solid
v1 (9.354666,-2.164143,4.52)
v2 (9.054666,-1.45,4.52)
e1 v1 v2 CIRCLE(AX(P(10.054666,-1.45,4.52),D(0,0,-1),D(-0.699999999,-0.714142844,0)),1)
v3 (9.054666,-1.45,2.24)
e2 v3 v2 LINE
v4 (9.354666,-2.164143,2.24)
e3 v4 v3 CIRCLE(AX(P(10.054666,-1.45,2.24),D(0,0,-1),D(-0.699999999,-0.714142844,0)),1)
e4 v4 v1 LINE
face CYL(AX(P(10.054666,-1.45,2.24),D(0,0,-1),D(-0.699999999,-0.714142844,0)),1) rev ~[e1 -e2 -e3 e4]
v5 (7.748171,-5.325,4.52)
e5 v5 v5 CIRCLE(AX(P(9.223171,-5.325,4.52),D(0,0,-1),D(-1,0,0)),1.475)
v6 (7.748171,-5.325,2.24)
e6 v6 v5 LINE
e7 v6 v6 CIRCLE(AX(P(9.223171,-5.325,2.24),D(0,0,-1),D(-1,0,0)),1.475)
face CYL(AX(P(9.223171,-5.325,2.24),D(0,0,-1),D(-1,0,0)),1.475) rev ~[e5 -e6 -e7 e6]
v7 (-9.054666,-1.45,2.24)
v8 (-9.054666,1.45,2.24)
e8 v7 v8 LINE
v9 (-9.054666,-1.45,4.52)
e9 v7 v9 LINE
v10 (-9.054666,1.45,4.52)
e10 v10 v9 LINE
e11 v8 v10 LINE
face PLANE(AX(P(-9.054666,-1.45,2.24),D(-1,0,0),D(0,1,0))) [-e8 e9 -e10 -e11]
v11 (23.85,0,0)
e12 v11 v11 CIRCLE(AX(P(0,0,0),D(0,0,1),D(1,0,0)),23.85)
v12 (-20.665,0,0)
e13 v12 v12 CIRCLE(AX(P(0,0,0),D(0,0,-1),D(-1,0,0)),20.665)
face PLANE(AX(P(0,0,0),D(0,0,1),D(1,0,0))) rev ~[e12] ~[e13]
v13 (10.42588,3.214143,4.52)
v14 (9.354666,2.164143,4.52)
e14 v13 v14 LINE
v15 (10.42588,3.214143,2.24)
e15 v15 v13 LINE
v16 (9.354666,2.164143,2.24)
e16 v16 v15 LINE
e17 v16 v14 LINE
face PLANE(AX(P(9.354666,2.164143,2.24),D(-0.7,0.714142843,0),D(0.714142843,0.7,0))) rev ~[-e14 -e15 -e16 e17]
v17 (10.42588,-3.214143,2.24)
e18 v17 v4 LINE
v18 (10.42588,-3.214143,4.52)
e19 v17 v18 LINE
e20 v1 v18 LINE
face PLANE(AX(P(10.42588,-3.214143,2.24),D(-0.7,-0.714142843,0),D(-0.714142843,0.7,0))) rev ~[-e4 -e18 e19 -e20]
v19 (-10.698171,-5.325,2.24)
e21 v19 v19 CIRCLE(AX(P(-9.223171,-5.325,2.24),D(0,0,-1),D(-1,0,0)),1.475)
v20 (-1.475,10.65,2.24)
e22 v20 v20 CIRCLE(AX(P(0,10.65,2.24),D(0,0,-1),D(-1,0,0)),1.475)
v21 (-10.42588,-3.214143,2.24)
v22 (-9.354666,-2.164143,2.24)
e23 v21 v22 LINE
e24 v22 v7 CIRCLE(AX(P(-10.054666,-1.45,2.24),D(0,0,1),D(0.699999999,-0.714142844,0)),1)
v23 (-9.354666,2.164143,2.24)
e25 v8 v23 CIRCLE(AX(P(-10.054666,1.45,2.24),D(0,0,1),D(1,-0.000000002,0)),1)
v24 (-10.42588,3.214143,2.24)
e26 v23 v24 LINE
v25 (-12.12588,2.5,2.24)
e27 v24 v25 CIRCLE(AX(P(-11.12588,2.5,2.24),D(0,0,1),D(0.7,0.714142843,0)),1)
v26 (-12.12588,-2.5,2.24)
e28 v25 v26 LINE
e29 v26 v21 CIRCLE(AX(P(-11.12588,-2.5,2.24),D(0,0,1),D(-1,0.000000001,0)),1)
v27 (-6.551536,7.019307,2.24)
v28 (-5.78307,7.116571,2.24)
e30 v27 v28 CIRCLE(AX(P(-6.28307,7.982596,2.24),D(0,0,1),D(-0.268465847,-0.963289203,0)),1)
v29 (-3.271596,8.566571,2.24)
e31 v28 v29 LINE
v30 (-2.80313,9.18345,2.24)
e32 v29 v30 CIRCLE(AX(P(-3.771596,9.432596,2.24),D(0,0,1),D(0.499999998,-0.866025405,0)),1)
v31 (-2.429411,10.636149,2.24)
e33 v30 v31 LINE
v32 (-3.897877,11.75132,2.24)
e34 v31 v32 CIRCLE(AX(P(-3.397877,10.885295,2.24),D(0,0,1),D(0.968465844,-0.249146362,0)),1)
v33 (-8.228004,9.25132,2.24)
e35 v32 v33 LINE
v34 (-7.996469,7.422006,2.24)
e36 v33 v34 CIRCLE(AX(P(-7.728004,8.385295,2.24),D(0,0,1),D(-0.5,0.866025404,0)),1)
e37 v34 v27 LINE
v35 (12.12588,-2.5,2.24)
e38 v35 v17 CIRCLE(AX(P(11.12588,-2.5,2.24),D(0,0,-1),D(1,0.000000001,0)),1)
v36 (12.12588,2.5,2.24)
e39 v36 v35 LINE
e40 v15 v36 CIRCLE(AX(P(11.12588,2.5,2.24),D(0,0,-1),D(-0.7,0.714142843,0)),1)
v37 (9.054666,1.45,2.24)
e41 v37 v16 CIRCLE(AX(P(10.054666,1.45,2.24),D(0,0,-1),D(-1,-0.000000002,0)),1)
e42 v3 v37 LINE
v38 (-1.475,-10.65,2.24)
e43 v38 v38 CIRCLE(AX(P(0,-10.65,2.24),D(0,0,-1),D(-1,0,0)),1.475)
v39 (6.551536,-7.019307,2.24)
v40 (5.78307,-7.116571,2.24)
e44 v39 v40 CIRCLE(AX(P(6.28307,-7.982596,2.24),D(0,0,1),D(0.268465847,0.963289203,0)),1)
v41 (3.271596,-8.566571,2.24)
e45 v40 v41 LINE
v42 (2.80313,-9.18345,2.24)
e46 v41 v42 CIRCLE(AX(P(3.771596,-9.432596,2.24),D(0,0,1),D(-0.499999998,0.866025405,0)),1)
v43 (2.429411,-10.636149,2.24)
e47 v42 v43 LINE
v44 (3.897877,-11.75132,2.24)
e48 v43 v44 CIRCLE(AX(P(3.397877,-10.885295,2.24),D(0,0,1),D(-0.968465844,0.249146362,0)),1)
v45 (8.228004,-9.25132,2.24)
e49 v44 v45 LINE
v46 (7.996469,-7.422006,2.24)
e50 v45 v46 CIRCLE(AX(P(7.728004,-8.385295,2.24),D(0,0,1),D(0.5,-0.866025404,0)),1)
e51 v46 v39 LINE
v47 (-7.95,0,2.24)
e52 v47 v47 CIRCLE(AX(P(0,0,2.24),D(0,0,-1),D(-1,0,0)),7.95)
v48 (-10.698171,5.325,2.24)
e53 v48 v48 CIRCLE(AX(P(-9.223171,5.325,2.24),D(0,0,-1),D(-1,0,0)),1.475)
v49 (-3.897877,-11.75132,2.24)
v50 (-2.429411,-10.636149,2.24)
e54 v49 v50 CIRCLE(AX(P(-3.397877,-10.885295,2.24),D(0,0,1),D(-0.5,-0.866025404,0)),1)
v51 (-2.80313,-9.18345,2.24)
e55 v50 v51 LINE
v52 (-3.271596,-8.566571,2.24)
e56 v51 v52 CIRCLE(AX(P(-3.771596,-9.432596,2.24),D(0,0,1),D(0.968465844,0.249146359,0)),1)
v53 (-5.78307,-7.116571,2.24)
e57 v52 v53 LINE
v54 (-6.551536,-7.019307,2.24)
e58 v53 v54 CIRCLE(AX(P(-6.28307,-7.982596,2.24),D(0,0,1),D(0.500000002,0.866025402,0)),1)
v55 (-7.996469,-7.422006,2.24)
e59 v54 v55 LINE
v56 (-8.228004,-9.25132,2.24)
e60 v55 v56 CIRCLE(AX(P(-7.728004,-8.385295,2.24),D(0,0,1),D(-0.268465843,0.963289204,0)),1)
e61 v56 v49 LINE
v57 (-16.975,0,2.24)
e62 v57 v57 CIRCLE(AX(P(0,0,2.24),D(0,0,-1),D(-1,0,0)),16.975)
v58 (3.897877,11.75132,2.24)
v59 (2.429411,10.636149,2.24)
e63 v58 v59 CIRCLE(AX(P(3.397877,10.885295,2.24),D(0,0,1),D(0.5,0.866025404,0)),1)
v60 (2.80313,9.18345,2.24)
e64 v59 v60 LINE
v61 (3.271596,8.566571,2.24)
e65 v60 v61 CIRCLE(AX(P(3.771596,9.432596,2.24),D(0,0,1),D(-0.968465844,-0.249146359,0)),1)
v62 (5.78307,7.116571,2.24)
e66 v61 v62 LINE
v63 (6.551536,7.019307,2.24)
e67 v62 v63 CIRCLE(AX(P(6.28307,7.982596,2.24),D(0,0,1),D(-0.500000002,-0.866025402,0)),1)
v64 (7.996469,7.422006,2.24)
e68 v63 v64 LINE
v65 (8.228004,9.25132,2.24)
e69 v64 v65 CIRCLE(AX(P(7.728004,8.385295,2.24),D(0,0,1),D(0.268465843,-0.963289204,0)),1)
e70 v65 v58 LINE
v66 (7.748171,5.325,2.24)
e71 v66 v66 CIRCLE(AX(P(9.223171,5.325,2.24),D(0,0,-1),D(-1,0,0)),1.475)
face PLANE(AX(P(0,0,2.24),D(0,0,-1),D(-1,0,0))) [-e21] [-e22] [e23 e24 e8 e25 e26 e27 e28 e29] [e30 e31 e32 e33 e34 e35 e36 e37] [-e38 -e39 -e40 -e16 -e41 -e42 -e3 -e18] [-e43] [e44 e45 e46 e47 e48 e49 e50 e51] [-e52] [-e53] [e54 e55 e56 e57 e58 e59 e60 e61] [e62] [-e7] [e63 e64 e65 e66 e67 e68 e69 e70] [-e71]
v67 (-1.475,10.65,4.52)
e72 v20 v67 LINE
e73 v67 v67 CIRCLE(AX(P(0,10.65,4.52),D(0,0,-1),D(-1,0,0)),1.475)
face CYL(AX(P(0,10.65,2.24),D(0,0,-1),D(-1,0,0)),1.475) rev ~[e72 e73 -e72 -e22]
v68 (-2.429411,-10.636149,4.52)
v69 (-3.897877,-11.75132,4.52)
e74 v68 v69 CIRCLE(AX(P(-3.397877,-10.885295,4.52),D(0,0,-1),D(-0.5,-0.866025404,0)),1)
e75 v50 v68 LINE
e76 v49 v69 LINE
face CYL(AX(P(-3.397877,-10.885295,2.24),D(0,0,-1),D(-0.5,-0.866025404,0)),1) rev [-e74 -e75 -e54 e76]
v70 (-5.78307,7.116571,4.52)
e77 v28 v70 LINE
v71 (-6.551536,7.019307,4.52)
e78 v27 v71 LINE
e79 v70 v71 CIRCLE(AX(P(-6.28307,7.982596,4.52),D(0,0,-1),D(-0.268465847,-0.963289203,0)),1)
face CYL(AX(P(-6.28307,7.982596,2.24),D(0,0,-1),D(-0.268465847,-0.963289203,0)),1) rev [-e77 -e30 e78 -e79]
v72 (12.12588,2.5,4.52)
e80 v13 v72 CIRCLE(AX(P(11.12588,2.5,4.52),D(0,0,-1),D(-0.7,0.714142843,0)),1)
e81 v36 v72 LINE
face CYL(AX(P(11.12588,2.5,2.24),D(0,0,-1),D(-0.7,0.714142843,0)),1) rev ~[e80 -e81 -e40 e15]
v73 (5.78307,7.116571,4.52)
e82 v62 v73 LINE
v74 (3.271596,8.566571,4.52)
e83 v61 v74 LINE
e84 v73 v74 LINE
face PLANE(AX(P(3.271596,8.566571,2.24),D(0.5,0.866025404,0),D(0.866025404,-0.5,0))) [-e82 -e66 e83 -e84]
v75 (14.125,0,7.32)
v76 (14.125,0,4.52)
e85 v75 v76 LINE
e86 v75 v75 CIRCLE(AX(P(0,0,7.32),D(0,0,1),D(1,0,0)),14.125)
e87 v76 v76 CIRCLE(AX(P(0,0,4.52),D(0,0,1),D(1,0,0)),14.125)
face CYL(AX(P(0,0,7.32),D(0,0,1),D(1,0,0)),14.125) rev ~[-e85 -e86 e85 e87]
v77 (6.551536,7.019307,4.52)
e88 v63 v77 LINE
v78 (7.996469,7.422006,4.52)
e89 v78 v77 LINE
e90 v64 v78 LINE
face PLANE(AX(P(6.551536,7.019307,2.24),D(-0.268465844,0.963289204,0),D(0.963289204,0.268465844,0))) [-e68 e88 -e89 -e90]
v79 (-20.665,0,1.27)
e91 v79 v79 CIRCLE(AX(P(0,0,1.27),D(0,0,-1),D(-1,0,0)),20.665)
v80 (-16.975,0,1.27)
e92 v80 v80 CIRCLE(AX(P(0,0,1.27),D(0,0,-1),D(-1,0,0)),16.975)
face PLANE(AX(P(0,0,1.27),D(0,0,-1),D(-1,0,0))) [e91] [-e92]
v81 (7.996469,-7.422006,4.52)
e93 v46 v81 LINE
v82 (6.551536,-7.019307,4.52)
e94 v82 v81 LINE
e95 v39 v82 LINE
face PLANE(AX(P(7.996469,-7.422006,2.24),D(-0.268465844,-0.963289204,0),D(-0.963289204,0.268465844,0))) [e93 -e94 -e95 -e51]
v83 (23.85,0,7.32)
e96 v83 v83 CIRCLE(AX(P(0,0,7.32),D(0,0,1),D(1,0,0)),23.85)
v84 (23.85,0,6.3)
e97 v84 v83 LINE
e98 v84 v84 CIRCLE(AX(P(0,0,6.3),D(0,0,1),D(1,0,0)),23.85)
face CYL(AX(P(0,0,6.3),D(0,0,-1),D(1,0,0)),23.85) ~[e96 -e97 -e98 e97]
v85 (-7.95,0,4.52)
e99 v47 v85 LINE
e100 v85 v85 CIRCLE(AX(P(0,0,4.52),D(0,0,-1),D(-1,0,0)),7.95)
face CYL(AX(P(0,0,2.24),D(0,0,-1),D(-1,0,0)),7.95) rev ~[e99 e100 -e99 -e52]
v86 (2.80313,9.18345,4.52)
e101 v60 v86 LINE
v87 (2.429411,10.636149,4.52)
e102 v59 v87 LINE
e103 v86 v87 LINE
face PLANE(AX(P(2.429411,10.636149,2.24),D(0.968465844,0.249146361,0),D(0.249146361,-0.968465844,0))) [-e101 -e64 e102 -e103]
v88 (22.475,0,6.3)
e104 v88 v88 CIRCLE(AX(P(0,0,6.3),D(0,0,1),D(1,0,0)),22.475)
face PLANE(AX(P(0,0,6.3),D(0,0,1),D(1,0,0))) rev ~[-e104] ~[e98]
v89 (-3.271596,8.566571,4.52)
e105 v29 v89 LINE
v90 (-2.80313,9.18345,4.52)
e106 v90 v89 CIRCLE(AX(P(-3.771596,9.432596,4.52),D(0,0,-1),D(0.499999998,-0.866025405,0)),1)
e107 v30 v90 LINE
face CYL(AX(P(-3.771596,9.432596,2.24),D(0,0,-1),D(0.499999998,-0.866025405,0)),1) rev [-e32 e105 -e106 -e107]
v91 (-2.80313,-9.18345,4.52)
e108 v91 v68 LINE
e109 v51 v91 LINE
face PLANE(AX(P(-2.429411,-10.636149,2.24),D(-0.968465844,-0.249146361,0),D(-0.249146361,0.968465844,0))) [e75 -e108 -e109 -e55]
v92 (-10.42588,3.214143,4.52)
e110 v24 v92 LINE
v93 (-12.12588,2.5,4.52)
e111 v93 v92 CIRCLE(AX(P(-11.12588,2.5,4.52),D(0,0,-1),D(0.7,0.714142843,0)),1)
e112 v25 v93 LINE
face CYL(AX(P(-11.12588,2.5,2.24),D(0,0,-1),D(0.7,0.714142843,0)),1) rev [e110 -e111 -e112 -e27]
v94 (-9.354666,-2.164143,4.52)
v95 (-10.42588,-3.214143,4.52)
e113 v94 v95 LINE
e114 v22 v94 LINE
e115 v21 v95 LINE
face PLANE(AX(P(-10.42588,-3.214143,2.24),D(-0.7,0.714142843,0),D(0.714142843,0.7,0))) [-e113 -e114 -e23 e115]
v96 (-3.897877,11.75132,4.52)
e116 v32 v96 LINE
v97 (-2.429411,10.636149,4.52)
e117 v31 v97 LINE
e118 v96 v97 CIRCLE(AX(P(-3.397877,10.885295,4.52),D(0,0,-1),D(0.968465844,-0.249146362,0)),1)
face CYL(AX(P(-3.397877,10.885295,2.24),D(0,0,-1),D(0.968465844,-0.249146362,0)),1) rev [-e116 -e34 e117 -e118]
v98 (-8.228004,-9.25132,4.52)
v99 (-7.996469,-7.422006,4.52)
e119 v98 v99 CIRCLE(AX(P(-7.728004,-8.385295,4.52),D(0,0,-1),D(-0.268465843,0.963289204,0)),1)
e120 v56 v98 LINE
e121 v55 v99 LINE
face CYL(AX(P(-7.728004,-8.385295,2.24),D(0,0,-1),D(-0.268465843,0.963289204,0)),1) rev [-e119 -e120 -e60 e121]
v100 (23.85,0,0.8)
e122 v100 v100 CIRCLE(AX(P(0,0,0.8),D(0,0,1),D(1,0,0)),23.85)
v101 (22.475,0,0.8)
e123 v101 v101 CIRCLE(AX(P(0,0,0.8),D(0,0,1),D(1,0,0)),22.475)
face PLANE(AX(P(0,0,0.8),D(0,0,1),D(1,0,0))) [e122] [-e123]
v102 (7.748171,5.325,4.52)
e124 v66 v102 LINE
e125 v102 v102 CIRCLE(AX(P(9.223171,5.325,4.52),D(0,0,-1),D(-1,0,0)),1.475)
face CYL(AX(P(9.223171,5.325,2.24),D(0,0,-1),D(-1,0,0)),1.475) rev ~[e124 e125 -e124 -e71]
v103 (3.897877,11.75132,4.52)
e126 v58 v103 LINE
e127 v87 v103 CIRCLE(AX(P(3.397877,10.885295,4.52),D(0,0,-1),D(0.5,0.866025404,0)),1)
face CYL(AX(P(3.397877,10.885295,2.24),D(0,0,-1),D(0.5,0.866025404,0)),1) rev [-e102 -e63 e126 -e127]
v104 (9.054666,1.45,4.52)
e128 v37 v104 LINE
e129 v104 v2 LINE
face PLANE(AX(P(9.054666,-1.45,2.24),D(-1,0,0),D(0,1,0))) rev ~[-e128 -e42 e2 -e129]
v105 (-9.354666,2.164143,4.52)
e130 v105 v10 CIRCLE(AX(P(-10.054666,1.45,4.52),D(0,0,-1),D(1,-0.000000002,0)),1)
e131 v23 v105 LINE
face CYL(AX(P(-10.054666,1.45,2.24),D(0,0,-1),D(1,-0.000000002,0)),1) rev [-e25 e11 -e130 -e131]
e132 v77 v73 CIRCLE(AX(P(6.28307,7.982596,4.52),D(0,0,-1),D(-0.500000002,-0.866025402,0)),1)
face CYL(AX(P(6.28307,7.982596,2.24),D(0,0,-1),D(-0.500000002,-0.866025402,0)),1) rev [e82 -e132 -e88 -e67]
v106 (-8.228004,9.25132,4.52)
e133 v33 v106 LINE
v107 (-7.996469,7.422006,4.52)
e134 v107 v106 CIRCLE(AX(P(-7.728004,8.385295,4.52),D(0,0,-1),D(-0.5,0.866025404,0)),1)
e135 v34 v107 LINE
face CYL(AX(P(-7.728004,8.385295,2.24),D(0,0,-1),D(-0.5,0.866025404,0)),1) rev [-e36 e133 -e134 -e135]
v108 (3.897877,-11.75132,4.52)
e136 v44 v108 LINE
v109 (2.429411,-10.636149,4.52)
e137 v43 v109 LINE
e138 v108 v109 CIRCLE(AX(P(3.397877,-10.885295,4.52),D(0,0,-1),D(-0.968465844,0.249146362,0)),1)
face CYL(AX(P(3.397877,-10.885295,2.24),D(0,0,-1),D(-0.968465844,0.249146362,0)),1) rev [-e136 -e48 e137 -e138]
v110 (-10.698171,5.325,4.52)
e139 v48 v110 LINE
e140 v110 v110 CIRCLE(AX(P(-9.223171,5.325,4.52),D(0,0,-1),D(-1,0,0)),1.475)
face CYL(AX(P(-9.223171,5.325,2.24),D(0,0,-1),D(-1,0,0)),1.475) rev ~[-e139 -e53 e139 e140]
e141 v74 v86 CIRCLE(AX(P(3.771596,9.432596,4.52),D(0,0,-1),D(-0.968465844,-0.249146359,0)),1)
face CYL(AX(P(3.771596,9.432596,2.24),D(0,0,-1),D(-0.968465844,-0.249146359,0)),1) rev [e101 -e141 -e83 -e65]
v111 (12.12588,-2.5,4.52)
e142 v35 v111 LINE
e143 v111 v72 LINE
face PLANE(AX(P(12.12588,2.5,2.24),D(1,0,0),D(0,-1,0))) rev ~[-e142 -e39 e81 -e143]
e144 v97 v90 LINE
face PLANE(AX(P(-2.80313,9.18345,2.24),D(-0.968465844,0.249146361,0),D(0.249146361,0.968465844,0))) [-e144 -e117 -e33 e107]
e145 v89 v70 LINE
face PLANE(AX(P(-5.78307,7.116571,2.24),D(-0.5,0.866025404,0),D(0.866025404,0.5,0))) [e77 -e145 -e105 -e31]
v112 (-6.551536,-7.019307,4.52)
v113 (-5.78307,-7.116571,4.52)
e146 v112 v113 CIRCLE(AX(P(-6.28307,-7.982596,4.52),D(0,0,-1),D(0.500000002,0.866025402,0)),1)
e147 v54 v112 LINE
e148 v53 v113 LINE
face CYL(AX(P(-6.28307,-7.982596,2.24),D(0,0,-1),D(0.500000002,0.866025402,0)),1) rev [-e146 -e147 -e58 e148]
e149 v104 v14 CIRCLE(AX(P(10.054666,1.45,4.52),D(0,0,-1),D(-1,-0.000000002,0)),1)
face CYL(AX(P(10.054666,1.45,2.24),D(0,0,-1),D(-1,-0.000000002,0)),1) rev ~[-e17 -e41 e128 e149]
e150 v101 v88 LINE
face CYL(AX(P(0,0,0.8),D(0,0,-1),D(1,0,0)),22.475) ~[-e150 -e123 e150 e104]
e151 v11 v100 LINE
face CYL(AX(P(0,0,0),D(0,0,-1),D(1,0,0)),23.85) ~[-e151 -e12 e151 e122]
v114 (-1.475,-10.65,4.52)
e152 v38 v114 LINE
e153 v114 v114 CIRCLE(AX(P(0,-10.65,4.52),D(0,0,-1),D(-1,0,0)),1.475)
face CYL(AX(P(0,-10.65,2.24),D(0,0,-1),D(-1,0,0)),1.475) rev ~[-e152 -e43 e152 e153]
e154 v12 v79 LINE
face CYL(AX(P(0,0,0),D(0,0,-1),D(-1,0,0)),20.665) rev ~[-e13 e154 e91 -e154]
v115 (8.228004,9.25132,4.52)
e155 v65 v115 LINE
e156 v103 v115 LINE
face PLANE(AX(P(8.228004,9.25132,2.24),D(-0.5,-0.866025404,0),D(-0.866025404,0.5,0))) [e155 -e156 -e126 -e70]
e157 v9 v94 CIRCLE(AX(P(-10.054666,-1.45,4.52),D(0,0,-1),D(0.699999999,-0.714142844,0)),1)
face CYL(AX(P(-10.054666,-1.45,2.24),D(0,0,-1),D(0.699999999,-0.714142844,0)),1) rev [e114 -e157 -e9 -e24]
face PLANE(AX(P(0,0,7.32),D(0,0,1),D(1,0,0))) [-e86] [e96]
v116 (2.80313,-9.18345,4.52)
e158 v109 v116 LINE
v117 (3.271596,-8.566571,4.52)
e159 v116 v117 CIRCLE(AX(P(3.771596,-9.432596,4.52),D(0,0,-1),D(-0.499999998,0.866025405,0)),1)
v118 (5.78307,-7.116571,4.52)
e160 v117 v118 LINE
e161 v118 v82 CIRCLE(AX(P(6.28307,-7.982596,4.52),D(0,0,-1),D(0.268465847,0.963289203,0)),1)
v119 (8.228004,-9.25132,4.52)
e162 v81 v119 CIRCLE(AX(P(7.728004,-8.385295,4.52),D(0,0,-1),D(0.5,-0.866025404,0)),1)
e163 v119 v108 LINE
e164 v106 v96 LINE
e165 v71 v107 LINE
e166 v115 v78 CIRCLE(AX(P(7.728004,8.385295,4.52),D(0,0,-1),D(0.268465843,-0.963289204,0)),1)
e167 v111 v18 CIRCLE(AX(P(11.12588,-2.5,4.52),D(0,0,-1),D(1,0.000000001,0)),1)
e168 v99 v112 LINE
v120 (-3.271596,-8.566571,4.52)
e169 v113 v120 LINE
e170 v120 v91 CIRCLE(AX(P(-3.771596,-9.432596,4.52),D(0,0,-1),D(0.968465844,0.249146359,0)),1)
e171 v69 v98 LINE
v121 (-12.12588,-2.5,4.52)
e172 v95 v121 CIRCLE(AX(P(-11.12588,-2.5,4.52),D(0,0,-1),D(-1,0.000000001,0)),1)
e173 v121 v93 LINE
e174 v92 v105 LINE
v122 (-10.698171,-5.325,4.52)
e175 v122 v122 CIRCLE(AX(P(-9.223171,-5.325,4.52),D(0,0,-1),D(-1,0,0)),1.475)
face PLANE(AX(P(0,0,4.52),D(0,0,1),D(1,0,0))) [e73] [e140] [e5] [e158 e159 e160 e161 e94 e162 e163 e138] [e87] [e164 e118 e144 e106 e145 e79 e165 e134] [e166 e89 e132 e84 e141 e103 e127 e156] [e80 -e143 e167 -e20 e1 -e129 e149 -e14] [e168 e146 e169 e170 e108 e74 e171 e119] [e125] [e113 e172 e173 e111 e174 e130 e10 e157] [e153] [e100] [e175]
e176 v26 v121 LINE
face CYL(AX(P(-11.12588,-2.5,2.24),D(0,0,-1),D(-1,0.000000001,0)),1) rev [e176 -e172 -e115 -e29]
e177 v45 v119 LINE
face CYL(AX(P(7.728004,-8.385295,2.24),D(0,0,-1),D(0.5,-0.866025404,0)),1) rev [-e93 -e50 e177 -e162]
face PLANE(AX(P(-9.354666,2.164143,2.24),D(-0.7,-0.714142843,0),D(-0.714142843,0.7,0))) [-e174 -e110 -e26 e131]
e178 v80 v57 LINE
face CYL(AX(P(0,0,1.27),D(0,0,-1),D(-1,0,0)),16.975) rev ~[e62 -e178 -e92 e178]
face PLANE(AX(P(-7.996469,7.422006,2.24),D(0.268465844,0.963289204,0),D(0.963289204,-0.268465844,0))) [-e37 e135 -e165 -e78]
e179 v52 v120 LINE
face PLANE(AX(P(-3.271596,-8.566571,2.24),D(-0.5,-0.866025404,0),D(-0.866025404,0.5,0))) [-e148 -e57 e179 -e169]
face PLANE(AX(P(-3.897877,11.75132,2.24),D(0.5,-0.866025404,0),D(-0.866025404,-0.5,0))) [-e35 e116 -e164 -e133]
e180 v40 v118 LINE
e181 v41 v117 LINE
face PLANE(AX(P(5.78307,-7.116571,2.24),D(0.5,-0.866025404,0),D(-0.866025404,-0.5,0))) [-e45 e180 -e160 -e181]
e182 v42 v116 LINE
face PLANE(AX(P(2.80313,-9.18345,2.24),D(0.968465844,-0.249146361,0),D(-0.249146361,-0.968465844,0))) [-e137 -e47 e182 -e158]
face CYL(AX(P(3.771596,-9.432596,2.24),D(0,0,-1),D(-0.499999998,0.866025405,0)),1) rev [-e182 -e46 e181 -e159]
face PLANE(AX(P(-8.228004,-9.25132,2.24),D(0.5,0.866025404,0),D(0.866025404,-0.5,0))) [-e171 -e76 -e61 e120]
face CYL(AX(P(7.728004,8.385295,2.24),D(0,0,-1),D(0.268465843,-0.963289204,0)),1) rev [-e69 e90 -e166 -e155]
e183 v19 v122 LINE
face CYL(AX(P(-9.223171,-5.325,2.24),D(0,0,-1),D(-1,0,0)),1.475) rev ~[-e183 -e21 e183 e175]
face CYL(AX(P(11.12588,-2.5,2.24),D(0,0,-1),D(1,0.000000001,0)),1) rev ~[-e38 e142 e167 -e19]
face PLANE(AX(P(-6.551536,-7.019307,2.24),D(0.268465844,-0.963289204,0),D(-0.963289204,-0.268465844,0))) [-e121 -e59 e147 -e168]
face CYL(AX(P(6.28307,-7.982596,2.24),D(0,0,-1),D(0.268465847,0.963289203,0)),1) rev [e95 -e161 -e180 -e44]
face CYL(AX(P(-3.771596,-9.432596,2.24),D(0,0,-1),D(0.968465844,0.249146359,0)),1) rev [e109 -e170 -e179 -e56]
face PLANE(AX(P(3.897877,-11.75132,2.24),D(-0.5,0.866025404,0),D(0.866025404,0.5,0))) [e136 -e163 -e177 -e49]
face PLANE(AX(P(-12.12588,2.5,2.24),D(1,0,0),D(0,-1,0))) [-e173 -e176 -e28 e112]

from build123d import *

# Parameters (mm, degrees)
SCHIZZO1_R                   = 23.85
ESTRUSIONE_ESTRUSIONE1_DEPTH = 0.8
SCHIZZO2_R                   = 22.475
ESTRUSIONE_ESTRUSIONE2_DEPTH = 5.5
SCHIZZO3_R                   = 23.85
ESTRUSIONE_ESTRUSIONE3_DEPTH = 1.02
SCHIZZO4_R                   = 20.665
TAGLIO_ESTRUSIONE1_DEPTH     = 1.27
SCHIZZO5_R                   = 16.975
TAGLIO_ESTRUSIONE2_DEPTH     = 0.97
SCHIZZO6_R                   = 7.95
TAGLIO_ESTRUSIONE3_DEPTH     = 35.109403396
SCHIZZO7_R                   = 14.125
TAGLIO_ESTRUSIONE4_DEPTH     = 2.8
SCHIZZO10_R                  = 1.475
TAGLIO_ESTRUSIONE5_DEPTH     = 35.109403396


with BuildPart() as part:
    # Schizzo1 → Estrusione-Estrusione1 (new body)
    with BuildSketch(Plane.XY):
        Circle(SCHIZZO1_R)
    extrude(amount=ESTRUSIONE_ESTRUSIONE1_DEPTH)

    # Schizzo2 → Estrusione-Estrusione2 (add)
    with BuildSketch(Plane.XY.offset(0.8)):
        Circle(SCHIZZO2_R)
    extrude(amount=ESTRUSIONE_ESTRUSIONE2_DEPTH)

    # Schizzo3 → Estrusione-Estrusione3 (add)
    with BuildSketch(Plane.XY.offset(6.3)):
        Circle(SCHIZZO3_R)
    extrude(amount=ESTRUSIONE_ESTRUSIONE3_DEPTH)

    # Schizzo4 → Taglio-Estrusione1 (cut)
    with BuildSketch(Plane(origin=(0, 0, 0), x_dir=(-1, 0, 0), z_dir=(0, 0, -1))):
        Circle(SCHIZZO4_R)
    extrude(amount=-TAGLIO_ESTRUSIONE1_DEPTH, mode=Mode.SUBTRACT)

    # Schizzo5 → Taglio-Estrusione2 (cut)
    with BuildSketch(Plane(origin=(0, 0, 1.27), x_dir=(-1, 0, 0), z_dir=(0, 0, -1))):
        Circle(SCHIZZO5_R)
    extrude(amount=-TAGLIO_ESTRUSIONE2_DEPTH, mode=Mode.SUBTRACT)

    # Schizzo6 → Taglio-Estrusione3 (cut, through all)
    with BuildSketch(Plane(origin=(0, 0, 2.24), x_dir=(-1, 0, 0), z_dir=(0, 0, -1))):
        Circle(SCHIZZO6_R)
    extrude(amount=-TAGLIO_ESTRUSIONE3_DEPTH, mode=Mode.SUBTRACT)

    # Schizzo7 → Taglio-Estrusione4 (cut)
    with BuildSketch(Plane.XY.offset(7.32)):
        Circle(SCHIZZO7_R)
    extrude(amount=-TAGLIO_ESTRUSIONE4_DEPTH, mode=Mode.SUBTRACT)

    # Schizzo10 → Taglio-Estrusione5 (cut, through all)
    with BuildSketch(Plane(origin=(0, 0, 2.24), x_dir=(-1, 0, 0), z_dir=(0, 0, -1))):
        with Locations((0, 10.65)):
            Circle(SCHIZZO10_R)
        with Locations((9.22317055, 5.325)):
            Circle(SCHIZZO10_R)
        with Locations((9.22317055, -5.325)):
            Circle(SCHIZZO10_R)
        with Locations((0, -10.65)):
            Circle(SCHIZZO10_R)
        with Locations((-9.22317055, -5.325)):
            Circle(SCHIZZO10_R)
        with Locations((-9.22317055, 5.325)):
            Circle(SCHIZZO10_R)
        with BuildLine():
            Line((-12.12588027, 2.5), (-12.12588027, -2.5))
            ThreePointArc((-12.12588027, -2.5), (-11.513178605, -3.421954446), (-10.42588027, -3.214142843))
            Line((-10.42588027, -3.214142843), (-9.354666006, -2.164142843))
            ThreePointArc((-9.354666006, -2.164142843), (-9.13271156, -1.837298335), (-9.054666006, -1.45))
            Line((-9.054666006, -1.45), (-9.054666006, 1.45))
            ThreePointArc((-9.054666006, 1.45), (-9.13271156, 1.837298335), (-9.354666006, 2.164142843))
            Line((-9.354666006, 2.164142843), (-10.42588027, 3.214142843))
            ThreePointArc((-10.42588027, 3.214142843), (-11.513178605, 3.421954446), (-12.12588027, 2.5))
        make_face()
        with BuildLine():
            Line((-2.429410782, 10.636148592), (-2.803130324, 9.183449827))
            ThreePointArc((-2.803130324, 9.183449827), (-2.975208748, 8.827809384), (-3.271596168, 8.566570784))
            Line((-3.271596168, 8.566570784), (-5.783069839, 7.116570784))
            ThreePointArc((-5.783069839, 7.116570784), (-6.157502812, 6.990511049), (-6.551535682, 7.019306984))
            Line((-6.551535682, 7.019306984), (-7.996469488, 7.42200575))
            ThreePointArc((-7.996469488, 7.42200575), (-8.720088783, 8.259727927), (-8.228003645, 9.251320357))
            Line((-8.228003645, 9.251320357), (-3.897876626, 11.751320357))
            ThreePointArc((-3.897876626, 11.751320357), (-2.793089822, 11.681682373), (-2.429410782, 10.636148592))
        make_face()
        with BuildLine():
            Line((7.996469488, 7.42200575), (6.551535682, 7.019306984))
            ThreePointArc((6.551535682, 7.019306984), (6.157502812, 6.990511049), (5.783069839, 7.116570784))
            Line((5.783069839, 7.116570784), (3.271596168, 8.566570784))
            ThreePointArc((3.271596168, 8.566570784), (2.975208748, 8.827809384), (2.803130324, 9.183449827))
            Line((2.803130324, 9.183449827), (2.429410782, 10.636148592))
            ThreePointArc((2.429410782, 10.636148592), (2.793089822, 11.681682373), (3.897876626, 11.751320357))
            Line((3.897876626, 11.751320357), (8.228003645, 9.251320357))
            ThreePointArc((8.228003645, 9.251320357), (8.720088783, 8.259727927), (7.996469488, 7.42200575))
        make_face()
        with BuildLine():
            Line((10.42588027, -3.214142843), (9.354666006, -2.164142843))
            ThreePointArc((9.354666006, -2.164142843), (9.13271156, -1.837298335), (9.054666006, -1.45))
            Line((9.054666006, -1.45), (9.054666006, 1.45))
            ThreePointArc((9.054666006, 1.45), (9.13271156, 1.837298335), (9.354666006, 2.164142843))
            Line((9.354666006, 2.164142843), (10.42588027, 3.214142843))
            ThreePointArc((10.42588027, 3.214142843), (11.513178605, 3.421954446), (12.12588027, 2.5))
            Line((12.12588027, 2.5), (12.12588027, -2.5))
            ThreePointArc((12.12588027, -2.5), (11.513178605, -3.421954446), (10.42588027, -3.214142843))
        make_face()
        with BuildLine():
            Line((2.429410782, -10.636148592), (2.803130324, -9.183449827))
            ThreePointArc((2.803130324, -9.183449827), (2.975208748, -8.827809384), (3.271596168, -8.566570784))
            Line((3.271596168, -8.566570784), (5.783069839, -7.116570784))
            ThreePointArc((5.783069839, -7.116570784), (6.157502812, -6.990511049), (6.551535682, -7.019306984))
            Line((6.551535682, -7.019306984), (7.996469488, -7.42200575))
            ThreePointArc((7.996469488, -7.42200575), (8.720088783, -8.259727927), (8.228003645, -9.251320357))
            Line((8.228003645, -9.251320357), (3.897876626, -11.751320357))
            ThreePointArc((3.897876626, -11.751320357), (2.793089822, -11.681682373), (2.429410782, -10.636148592))
        make_face()
        with BuildLine():
            Line((-7.996469488, -7.42200575), (-6.551535682, -7.019306984))
            ThreePointArc((-6.551535682, -7.019306984), (-6.157502812, -6.990511049), (-5.783069839, -7.116570784))
            Line((-5.783069839, -7.116570784), (-3.271596168, -8.566570784))
            ThreePointArc((-3.271596168, -8.566570784), (-2.975208748, -8.827809384), (-2.803130324, -9.183449827))
            Line((-2.803130324, -9.183449827), (-2.429410782, -10.636148592))
            ThreePointArc((-2.429410782, -10.636148592), (-2.793089822, -11.681682373), (-3.897876626, -11.751320357))
            Line((-3.897876626, -11.751320357), (-8.228003645, -9.251320357))
            ThreePointArc((-8.228003645, -9.251320357), (-8.720088783, -8.259727927), (-7.996469488, -7.42200575))
        make_face()
    extrude(amount=-TAGLIO_ESTRUSIONE5_DEPTH, mode=Mode.SUBTRACT)


solid = part.part
